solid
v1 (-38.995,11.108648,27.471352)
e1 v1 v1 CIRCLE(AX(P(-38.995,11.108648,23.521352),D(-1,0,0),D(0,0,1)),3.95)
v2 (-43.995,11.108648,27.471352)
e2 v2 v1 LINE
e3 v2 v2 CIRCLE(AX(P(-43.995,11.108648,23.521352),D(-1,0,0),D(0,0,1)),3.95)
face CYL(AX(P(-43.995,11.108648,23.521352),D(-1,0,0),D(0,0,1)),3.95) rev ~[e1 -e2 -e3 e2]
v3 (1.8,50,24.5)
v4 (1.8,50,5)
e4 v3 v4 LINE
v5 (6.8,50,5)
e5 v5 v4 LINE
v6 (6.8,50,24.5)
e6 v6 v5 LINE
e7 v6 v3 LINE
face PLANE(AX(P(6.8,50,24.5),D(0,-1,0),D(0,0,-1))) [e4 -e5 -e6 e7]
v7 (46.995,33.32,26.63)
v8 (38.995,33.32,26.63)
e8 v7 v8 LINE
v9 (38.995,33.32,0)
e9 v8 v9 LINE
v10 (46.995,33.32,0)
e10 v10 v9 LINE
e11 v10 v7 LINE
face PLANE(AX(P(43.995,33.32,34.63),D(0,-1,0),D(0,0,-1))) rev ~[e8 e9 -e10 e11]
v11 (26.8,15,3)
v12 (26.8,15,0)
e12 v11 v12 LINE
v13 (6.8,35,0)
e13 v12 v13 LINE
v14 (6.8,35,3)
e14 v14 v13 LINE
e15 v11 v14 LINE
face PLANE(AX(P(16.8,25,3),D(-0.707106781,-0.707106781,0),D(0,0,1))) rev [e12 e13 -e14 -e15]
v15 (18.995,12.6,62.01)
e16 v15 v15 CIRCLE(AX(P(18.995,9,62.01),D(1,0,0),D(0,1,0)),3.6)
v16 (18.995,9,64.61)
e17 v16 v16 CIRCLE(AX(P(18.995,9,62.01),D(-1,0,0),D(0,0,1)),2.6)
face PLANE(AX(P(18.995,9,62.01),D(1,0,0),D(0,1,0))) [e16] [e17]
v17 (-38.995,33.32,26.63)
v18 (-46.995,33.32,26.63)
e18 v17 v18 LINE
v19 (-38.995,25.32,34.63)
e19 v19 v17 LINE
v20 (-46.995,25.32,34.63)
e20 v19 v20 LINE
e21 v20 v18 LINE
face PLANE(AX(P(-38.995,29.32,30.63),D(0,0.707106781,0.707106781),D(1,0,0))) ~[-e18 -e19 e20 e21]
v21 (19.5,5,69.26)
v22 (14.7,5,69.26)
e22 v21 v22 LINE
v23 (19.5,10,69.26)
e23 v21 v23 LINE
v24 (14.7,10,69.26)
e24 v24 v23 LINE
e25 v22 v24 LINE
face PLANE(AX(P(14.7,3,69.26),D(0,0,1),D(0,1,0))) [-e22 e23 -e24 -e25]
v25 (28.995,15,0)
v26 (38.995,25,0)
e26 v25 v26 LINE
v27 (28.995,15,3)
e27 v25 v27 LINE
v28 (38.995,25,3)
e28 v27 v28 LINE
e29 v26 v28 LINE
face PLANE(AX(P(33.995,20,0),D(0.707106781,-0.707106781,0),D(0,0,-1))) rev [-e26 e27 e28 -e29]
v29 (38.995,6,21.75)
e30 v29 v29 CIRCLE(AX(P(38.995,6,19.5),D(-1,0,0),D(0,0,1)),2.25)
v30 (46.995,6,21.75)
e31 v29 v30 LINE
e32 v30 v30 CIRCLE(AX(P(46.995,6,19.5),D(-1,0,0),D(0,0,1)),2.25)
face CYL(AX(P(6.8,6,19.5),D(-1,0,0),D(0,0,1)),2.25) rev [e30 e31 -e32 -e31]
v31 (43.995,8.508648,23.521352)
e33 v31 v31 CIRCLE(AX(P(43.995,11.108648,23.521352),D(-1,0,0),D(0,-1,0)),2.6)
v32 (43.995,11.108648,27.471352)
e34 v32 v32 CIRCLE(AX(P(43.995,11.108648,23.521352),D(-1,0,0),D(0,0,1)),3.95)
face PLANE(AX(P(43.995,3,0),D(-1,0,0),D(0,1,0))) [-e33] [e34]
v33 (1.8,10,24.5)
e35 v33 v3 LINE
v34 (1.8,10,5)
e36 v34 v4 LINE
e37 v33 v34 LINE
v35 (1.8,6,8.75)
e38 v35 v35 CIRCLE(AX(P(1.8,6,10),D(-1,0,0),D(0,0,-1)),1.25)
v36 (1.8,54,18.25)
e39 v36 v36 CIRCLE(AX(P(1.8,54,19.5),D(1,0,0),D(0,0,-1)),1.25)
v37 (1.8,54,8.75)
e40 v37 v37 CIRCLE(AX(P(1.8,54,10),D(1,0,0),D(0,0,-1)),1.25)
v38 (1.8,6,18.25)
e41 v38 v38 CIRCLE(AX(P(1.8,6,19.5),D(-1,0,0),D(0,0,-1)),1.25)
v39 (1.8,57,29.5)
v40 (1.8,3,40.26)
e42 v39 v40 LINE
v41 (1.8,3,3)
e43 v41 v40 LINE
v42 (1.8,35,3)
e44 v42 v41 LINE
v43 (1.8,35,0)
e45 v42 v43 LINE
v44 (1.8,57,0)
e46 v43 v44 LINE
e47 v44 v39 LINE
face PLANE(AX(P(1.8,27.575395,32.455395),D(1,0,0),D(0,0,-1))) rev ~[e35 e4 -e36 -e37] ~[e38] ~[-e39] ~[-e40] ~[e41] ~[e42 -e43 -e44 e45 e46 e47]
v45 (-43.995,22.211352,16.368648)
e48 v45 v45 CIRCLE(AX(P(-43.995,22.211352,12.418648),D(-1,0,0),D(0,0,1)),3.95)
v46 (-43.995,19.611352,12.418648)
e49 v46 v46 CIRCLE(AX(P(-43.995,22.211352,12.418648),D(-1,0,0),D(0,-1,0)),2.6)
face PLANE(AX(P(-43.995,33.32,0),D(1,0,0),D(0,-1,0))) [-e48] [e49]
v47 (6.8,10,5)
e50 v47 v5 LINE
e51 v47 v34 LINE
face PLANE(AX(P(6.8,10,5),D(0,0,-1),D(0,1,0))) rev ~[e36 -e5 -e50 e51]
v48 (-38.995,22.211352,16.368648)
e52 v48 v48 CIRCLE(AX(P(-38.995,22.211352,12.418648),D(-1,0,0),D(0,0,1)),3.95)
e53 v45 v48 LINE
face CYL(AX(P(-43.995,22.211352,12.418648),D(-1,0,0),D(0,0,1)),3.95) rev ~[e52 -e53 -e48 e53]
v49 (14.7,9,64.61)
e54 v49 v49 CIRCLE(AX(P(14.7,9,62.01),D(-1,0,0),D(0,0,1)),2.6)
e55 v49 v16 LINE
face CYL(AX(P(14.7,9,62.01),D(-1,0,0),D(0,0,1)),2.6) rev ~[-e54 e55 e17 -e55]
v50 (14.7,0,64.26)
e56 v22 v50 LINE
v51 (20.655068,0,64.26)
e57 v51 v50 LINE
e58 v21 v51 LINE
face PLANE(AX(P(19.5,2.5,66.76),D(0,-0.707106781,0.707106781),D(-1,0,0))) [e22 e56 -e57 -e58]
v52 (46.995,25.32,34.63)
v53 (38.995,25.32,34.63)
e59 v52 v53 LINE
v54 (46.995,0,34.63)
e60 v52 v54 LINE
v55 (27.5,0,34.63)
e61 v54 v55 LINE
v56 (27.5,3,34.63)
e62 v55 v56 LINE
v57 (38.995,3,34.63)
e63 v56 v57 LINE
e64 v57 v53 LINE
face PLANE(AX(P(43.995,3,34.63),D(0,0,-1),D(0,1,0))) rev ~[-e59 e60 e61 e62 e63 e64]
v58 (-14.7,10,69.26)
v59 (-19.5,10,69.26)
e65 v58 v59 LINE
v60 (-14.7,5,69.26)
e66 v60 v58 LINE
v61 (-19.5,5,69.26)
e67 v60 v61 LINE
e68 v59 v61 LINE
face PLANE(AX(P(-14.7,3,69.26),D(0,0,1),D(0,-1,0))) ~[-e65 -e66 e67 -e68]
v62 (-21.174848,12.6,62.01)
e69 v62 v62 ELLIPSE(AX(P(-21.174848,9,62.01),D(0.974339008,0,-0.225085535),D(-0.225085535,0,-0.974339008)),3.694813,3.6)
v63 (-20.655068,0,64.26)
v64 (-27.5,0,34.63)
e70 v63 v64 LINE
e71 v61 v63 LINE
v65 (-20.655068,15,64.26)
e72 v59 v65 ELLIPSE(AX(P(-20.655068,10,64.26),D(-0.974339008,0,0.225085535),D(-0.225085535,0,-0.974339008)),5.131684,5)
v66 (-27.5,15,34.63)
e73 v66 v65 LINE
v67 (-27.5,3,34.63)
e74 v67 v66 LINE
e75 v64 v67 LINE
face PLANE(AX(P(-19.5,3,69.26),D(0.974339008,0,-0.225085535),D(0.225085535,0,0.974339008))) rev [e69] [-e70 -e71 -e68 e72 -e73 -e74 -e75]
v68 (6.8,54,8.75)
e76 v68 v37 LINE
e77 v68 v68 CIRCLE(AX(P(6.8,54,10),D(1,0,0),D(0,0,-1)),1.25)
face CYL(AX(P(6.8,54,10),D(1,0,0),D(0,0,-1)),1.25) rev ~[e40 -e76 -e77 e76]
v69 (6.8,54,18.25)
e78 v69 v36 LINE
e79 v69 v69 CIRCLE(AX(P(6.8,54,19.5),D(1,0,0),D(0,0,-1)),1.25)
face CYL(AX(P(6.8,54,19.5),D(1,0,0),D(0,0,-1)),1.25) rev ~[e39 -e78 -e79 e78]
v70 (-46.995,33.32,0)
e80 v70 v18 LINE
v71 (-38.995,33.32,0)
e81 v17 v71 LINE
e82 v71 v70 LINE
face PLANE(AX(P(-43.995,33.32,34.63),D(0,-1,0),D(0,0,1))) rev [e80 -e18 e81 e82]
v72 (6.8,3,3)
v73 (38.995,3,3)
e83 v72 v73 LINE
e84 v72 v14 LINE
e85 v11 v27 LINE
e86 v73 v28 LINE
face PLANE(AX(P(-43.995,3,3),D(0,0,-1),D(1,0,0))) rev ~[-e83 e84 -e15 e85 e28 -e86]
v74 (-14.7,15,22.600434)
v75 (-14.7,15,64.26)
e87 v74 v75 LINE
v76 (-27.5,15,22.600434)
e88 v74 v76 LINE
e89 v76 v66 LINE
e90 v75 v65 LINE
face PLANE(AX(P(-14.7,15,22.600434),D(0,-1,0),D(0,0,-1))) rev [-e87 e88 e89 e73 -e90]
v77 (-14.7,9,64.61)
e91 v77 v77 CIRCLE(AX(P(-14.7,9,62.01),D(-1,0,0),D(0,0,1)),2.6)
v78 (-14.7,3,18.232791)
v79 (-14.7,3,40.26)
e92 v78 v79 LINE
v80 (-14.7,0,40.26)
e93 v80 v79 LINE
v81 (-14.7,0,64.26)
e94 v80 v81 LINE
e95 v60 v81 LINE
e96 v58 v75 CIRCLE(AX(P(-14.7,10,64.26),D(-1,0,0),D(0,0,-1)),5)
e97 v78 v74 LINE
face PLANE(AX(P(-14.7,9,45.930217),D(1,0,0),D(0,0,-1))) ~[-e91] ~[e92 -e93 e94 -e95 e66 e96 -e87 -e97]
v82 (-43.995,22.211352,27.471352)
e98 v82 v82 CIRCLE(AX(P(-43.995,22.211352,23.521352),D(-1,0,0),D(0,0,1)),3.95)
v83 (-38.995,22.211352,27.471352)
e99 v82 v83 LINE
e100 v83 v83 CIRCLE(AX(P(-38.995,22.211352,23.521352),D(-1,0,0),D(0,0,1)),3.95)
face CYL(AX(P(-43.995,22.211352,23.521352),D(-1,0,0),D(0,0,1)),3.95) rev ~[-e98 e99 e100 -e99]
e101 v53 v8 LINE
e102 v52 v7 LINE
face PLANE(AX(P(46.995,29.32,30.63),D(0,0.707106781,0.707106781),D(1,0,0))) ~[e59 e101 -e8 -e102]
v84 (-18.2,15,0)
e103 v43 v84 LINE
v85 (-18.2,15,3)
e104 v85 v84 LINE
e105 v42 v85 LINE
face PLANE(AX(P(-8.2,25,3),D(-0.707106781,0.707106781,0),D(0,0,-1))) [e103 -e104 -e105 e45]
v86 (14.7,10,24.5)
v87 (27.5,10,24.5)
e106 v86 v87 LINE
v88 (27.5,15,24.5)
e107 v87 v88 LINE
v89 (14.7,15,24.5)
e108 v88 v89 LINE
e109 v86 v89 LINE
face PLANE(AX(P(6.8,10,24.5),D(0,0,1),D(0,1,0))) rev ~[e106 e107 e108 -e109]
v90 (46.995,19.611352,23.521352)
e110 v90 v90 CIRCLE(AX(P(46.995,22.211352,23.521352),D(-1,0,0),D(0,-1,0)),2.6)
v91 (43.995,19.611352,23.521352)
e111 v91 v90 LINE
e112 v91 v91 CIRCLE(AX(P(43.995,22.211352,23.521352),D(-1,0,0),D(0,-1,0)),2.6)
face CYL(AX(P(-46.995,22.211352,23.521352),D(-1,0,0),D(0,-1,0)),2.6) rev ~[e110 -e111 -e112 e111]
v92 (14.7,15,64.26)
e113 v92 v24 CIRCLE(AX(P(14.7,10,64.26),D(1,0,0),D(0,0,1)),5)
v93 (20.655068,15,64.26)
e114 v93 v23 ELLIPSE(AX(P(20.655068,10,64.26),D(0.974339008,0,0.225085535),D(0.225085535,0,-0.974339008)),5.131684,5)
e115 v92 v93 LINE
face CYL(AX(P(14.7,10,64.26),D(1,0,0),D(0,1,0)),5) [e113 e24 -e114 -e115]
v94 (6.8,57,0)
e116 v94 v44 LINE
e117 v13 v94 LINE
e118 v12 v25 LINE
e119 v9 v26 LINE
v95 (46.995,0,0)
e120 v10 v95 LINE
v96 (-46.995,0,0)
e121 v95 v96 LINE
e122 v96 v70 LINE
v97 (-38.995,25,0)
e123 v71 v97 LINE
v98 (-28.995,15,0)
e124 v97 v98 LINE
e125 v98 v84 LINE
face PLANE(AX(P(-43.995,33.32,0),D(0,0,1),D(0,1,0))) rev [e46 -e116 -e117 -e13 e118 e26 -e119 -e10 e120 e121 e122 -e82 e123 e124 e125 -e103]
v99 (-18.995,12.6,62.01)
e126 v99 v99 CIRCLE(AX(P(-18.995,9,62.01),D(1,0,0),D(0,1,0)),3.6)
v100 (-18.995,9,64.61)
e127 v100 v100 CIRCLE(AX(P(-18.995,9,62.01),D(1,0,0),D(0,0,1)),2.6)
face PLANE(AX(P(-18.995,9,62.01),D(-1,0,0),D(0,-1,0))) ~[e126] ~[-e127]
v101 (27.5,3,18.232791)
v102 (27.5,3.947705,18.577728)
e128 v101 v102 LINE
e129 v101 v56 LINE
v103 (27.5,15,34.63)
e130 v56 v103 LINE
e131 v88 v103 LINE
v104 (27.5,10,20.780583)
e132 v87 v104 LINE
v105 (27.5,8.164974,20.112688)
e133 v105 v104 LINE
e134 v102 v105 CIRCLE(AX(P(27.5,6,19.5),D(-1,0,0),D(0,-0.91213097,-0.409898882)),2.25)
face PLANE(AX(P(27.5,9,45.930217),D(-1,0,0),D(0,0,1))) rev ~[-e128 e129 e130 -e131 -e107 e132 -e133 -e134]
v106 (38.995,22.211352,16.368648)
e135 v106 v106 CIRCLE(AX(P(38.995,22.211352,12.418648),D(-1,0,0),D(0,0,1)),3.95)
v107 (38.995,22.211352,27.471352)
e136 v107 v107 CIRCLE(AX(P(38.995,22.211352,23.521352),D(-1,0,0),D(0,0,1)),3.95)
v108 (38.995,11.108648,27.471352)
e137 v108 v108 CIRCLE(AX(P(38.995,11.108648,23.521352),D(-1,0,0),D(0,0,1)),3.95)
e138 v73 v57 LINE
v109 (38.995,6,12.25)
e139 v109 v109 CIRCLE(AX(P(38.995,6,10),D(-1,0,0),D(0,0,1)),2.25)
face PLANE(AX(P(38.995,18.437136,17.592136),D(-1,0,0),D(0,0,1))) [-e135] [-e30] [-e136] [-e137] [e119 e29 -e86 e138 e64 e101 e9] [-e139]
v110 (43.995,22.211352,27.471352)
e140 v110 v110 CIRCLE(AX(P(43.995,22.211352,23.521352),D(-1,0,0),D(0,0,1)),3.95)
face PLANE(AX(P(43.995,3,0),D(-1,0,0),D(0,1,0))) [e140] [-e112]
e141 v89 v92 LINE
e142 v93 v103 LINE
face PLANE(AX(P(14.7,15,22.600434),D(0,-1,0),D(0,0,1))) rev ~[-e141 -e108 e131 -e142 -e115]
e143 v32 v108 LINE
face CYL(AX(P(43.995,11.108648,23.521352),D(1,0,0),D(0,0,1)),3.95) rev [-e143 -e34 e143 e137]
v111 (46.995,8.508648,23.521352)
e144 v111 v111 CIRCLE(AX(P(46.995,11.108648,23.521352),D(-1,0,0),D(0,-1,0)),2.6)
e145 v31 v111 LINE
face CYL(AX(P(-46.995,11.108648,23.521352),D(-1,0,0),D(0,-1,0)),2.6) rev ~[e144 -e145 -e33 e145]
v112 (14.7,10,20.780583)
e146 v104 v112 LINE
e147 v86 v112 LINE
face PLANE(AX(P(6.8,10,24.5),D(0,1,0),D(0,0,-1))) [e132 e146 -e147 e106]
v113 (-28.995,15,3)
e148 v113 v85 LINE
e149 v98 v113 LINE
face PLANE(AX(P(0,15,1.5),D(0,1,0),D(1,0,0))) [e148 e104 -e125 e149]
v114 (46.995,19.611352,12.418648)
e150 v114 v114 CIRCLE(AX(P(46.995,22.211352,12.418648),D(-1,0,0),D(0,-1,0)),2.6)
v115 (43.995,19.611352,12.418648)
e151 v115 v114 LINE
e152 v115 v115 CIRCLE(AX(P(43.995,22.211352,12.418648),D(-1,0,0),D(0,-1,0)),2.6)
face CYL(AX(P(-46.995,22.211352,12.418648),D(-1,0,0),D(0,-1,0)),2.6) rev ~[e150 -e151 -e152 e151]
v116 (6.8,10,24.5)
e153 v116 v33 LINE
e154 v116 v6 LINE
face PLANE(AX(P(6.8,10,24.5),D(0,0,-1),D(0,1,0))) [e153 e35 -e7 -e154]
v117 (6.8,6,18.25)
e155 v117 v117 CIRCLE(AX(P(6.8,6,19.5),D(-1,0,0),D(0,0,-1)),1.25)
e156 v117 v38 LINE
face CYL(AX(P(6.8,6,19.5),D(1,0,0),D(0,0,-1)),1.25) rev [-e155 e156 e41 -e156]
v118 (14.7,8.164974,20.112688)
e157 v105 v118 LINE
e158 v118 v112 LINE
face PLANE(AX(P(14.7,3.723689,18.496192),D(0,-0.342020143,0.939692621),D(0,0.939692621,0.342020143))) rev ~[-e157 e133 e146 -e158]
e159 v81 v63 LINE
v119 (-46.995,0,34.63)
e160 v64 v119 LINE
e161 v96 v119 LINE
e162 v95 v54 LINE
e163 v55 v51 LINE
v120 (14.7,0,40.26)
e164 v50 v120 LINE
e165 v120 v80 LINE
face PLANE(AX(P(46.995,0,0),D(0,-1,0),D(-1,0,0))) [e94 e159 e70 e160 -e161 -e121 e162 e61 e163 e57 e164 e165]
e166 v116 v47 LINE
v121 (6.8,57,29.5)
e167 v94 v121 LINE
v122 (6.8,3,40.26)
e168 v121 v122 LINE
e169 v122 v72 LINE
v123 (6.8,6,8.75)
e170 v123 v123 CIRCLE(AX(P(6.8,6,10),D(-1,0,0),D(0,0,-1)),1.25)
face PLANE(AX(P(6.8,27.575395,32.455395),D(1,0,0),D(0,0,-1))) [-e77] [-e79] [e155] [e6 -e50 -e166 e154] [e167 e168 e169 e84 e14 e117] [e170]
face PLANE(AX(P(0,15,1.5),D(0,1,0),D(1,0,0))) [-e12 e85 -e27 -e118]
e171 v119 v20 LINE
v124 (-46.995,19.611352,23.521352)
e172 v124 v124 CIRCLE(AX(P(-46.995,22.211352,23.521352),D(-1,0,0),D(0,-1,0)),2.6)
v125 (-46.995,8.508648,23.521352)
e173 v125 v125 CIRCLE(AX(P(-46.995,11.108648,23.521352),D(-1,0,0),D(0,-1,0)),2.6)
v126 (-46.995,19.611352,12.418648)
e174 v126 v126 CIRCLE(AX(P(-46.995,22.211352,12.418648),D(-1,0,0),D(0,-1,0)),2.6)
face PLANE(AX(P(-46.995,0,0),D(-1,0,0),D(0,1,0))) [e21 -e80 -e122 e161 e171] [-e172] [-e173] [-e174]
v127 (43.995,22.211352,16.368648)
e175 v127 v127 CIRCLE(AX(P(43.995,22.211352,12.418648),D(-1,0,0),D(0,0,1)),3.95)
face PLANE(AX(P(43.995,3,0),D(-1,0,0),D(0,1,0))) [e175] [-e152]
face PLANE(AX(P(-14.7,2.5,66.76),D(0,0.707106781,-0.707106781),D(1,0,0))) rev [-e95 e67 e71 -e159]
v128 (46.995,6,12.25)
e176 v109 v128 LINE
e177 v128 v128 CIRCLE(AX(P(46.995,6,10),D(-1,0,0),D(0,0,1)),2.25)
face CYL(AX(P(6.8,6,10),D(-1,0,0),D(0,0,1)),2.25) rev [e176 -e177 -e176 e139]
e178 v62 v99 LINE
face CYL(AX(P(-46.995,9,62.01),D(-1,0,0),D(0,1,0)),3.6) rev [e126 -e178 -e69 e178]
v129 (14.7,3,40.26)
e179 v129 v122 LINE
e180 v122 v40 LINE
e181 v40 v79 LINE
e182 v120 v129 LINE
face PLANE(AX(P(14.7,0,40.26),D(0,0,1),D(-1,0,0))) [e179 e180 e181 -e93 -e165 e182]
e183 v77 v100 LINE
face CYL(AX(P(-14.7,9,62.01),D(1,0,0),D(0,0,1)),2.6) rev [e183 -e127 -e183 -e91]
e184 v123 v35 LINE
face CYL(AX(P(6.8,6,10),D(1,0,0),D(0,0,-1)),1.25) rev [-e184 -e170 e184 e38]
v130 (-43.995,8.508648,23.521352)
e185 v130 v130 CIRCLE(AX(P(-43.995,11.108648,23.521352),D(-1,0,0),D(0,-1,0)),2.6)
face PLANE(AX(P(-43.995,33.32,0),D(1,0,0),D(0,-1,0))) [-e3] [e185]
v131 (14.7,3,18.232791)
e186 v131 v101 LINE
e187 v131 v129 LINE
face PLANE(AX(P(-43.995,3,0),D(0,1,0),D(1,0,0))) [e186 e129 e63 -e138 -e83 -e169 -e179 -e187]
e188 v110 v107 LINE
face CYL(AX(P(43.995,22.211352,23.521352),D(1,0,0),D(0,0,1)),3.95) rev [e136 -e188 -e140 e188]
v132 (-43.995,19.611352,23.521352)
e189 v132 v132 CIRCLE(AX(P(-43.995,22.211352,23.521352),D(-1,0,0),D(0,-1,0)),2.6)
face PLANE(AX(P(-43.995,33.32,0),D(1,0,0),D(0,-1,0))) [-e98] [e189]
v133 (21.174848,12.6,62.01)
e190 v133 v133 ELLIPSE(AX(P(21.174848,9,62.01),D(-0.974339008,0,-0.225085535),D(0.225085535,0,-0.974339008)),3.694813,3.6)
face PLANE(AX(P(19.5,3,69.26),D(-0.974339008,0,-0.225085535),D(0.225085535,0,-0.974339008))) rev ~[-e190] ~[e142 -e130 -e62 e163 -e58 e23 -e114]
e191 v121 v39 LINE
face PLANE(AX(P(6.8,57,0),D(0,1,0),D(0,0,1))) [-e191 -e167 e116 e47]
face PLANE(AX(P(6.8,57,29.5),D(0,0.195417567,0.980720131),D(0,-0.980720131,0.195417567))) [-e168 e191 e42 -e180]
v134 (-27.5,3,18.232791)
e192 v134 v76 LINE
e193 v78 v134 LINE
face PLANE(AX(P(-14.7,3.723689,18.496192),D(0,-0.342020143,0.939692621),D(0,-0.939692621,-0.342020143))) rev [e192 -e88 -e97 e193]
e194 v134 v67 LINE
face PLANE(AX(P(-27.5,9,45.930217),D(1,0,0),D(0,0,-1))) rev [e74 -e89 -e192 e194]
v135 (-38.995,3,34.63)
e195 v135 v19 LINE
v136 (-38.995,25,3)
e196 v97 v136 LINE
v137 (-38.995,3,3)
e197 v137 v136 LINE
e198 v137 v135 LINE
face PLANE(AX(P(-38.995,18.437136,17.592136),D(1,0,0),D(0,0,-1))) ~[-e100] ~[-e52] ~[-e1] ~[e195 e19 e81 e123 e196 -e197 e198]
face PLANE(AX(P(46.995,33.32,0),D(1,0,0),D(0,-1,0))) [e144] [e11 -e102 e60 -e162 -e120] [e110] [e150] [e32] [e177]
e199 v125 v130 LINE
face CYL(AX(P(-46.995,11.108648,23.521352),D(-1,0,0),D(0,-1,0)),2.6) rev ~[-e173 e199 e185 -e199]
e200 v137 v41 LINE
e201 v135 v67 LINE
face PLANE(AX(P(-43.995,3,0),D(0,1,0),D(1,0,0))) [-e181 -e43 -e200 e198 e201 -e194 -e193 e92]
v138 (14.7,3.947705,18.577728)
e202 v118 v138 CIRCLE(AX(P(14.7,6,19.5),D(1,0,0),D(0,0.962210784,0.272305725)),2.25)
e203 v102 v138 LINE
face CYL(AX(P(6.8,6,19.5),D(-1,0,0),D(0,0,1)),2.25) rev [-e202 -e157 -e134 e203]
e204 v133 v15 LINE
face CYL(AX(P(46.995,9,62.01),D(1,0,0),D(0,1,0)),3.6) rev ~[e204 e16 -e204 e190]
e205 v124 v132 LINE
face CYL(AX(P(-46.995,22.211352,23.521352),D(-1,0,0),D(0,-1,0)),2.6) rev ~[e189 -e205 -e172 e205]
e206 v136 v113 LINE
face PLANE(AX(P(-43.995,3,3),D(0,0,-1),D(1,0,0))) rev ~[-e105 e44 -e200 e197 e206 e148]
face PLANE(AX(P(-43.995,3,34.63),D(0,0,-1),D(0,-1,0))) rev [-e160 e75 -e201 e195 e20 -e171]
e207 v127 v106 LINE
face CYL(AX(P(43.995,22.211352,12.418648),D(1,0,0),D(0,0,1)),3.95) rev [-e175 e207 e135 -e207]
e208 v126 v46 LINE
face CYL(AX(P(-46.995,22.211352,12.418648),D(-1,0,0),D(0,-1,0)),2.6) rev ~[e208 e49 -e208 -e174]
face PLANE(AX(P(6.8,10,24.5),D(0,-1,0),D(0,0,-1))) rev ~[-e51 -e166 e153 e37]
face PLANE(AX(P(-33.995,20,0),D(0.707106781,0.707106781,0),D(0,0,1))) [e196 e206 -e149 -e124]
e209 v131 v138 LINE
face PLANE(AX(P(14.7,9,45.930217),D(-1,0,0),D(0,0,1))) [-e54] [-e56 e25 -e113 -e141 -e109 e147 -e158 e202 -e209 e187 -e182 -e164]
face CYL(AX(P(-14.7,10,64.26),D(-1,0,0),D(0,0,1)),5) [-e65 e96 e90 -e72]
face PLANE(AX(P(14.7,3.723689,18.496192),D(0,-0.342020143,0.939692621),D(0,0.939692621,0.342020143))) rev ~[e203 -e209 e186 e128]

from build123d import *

# Parameters (mm, degrees)
EXTRUDE_1_DEPTH             = 34.63
SKETCH_2_R                  = 2.6
CUT_EXTRUDE_1_DEPTH         = 106.56315361
EXTRUDE_2_DEPTH             = 3
SKETCH_4_W                  = 46.659566201
SKETCH_4_H                  = 12
SKETCH_4_R                  = 2.6
EXTRUDE_3_DEPTH             = 12.8
DRAFT_1_ANGLE               = 20
CUT_EXTRUDE_2_DEPTH         = 90.021233563
SKETCH_6_R                  = 3.6
CUT_EXTRUDE_3_DEPTH         = 28
FILLET_1_R                  = 5
CHAMFER_1_SIZE              = 5
DRAFT_1_OF_MIRROR_3_2_ANGLE = 20
CHAMFER_2_SIZE              = 5
FILLET_2_R                  = 5
SKETCH_7_W                  = 87.99
SKETCH_7_H                  = 3
EXTRUDE_4_DEPTH             = 12
SKETCH_8_R                  = 3.95
EXTRUDE_5_DEPTH             = 5
CHAMFER_3_SIZE              = 8
CHAMFER_4_SIZE              = 10
SKETCH_9_W                  = 19.5
SKETCH_9_H                  = 40
EXTRUDE_6_DEPTH             = 5
SKETCH_9_3_W                = 19.5
SKETCH_9_3_H                = 40
CUT_EXTRUDE_4_DEPTH         = 30
EXTRUDE_7_DEPTH             = 5
CHAMFER_5_SIZE              = 20
SKETCH_11_R                 = 1.25
CUT_EXTRUDE_5_DEPTH         = 5
SKETCH_12_R                 = 2.25
CUT_EXTRUDE_6_DEPTH         = 105.59373607


with BuildPart() as part:
    # Эскиз1 → Бобышка-Вытянуть1 (new body)
    with BuildSketch(Plane.XY):
        Polygon((-43.995, 3), (43.995, 3), (43.995, 33.32), (46.995, 33.32), (46.995, 0), (-46.995, 0), (-46.995, 33.32), (-43.995, 33.32), align=None)
    extrude(amount=EXTRUDE_1_DEPTH)

    # Эскиз2 → Вырез-Вытянуть1 (cut, through all)
    with BuildSketch(Plane.ZY.offset(46.995)):
        with Locations(Location((12.418647532, 22.211352468, 0), (0, 0, 270))):
            Circle(SKETCH_2_R)
        with Locations(Location((23.521352468, 22.211352468, 0), (0, 0, 270))):
            Circle(SKETCH_2_R)
        with Locations(Location((23.521352468, 11.108647532, 0), (0, 0, 270))):
            Circle(SKETCH_2_R)
    extrude(amount=-CUT_EXTRUDE_1_DEPTH, mode=Mode.SUBTRACT)

    # Эскиз3 → Бобышка-Вытянуть2 (add)
    with BuildSketch(Plane(origin=(0, 0, 0), x_dir=(1, 0, 0), z_dir=(0, 1, 0))):
        Polygon((-27.5, -34.63), (27.5, -34.63), (19.5, -69.26), (14.7, -69.26), (14.7, -40.26), (-14.7, -40.26), (-14.7, -69.26), (-19.5, -69.26), align=None)
    extrude(amount=EXTRUDE_2_DEPTH)

    # Эскиз4 → Бобышка-Вытянуть3 (add)
    with BuildSketch(Plane.ZY.offset(-14.7)):
        with Locations((45.9302169, 9)):
            Rectangle(SKETCH_4_W, SKETCH_4_H)
        with Locations((62.01, 9)):
            Circle(SKETCH_4_R, mode=Mode.SUBTRACT)
    extrude_3 = extrude(amount=-EXTRUDE_3_DEPTH)

    # Уклон1
    draft_1_faces = [part.faces().sort_by_distance(p)[0] for p in [
        (21.1, 9, 22.600433799),
    ]]
    draft(draft_1_faces, Plane(origin=(27.5, 15, 22.600433799), x_dir=(0, 0, 1), z_dir=(0, 1, 0)), DRAFT_1_ANGLE)

    # Эскиз5 → Вырез-Вытянуть2 (cut, through all)
    with BuildSketch(Plane.XZ.offset(-3)):
        Polygon((27.5, 34.63), (27.5, 69.26), (19.5, 69.26), align=None)
    cut_extrude_2 = extrude(amount=-CUT_EXTRUDE_2_DEPTH, mode=Mode.SUBTRACT)

    # Эскиз6 → Вырез-Вытянуть3 (cut)
    with BuildSketch(Plane(origin=(46.995, 0, 0), x_dir=(0, 0, -1), z_dir=(1, 0, 0))):
        with Locations(Location((-62.01, 9, 0), (0, 0, 90))):
            Circle(SKETCH_6_R)
    cut_extrude_3 = extrude(amount=-CUT_EXTRUDE_3_DEPTH, mode=Mode.SUBTRACT)

    # Скругление1
    fillet_1_edges = [part.edges().sort_by_distance(p)[0] for p in [
        (17.1, 15, 69.26),
    ]]
    fillet(fillet_1_edges, radius=FILLET_1_R)

    # Фаска1
    chamfer_1_edges = [part.edges().sort_by_distance(p)[0] for p in [
        (17.1, 0, 69.26),
    ]]
    chamfer(chamfer_1_edges, length=CHAMFER_1_SIZE)

    # Зеркальное отражение3: Бобышка-Вытянуть3, Вырез-Вытянуть2, Вырез-Вытянуть3 across plane
    add(extrude_3.mirror(Plane(origin=(0, 0, 0), x_dir=(0, 0, 1), z_dir=(1, 0, 0))))
    add(cut_extrude_2.mirror(Plane(origin=(0, 0, 0), x_dir=(0, 0, 1), z_dir=(1, 0, 0))), mode=Mode.SUBTRACT)
    add(cut_extrude_3.mirror(Plane(origin=(0, 0, 0), x_dir=(0, 0, 1), z_dir=(1, 0, 0))), mode=Mode.SUBTRACT)

    # Уклон1 of Mirror 3 2
    draft_1_of_mirror_3_2_faces = [part.faces().sort_by_distance(p)[0] for p in [
        (-21.1, 9, 22.600433799),
    ]]
    draft(draft_1_of_mirror_3_2_faces, Plane(origin=(-27.5, 15, 22.600433799), x_dir=(0, 0, 1), z_dir=(0, 1, 0)), DRAFT_1_OF_MIRROR_3_2_ANGLE)

    # Фаска2
    chamfer_2_edges = [part.edges().sort_by_distance(p)[0] for p in [
        (-17.1, 0, 69.26),
    ]]
    chamfer(chamfer_2_edges, length=CHAMFER_2_SIZE)

    # Скругление2
    fillet_2_edges = [part.edges().sort_by_distance(p)[0] for p in [
        (-17.1, 15, 69.26),
    ]]
    fillet(fillet_2_edges, radius=FILLET_2_R)

    # Эскиз7 → Бобышка-Вытянуть4 (add)
    with BuildSketch(Plane(origin=(0, 3, 0), x_dir=(1, 0, 0), z_dir=(0, 1, 0))):
        with Locations((0, -1.5)):
            Rectangle(SKETCH_7_W, SKETCH_7_H)
    extrude(amount=EXTRUDE_4_DEPTH)

    # Эскиз8 → Бобышка-Вытянуть5 (add)
    with BuildSketch(Plane.ZY.offset(-43.995)):
        Polygon((3, 3), (34.63, 3), (34.63, 33.32), (0, 33.32), (0, 15), (3, 15), align=None)
        with Locations((12.418647532, 22.211352468)):
            Circle(SKETCH_8_R, mode=Mode.SUBTRACT)
        with Locations((23.521352468, 22.211352468)):
            Circle(SKETCH_8_R, mode=Mode.SUBTRACT)
        with Locations((23.521352468, 11.108647532)):
            Circle(SKETCH_8_R, mode=Mode.SUBTRACT)
    extrude_5 = extrude(amount=EXTRUDE_5_DEPTH)

    # Зеркальное отражение4: Бобышка-Вытянуть5 across plane
    add(extrude_5.mirror(Plane(origin=(0, 0, 0), x_dir=(0, 0, 1), z_dir=(1, 0, 0))))

    # Фаска3
    chamfer_3_edges = [part.edges().sort_by_distance(p)[0] for p in [
        (42.995, 33.32, 34.63),
        (-42.995, 33.32, 34.63),
    ]]
    chamfer(chamfer_3_edges, length=CHAMFER_3_SIZE)

    # Фаска4
    chamfer_4_edges = [part.edges().sort_by_distance(p)[0] for p in [
        (38.995, 15, 1.5),
        (-38.995, 15, 1.5),
    ]]
    chamfer(chamfer_4_edges, length=CHAMFER_4_SIZE)

    # Эскиз9 → Бобышка-Вытянуть6 (add)
    with BuildSketch(Plane(origin=(6.8, 0, 0), x_dir=(0, 0, -1), z_dir=(1, 0, 0))):
        Polygon((-5, 3), (0, 3), (0, 10), (0, 50), (0, 57), (-5, 57), (-24.5, 57), (-29.5, 57), (-29.5, 50), (-29.5, 10), (-29.5, 3), (-24.5, 3), align=None)
        with Locations((-14.75, 30)):
            Rectangle(SKETCH_9_W, SKETCH_9_H, mode=Mode.SUBTRACT)
    extrude(amount=-EXTRUDE_6_DEPTH)

    # Эскиз9<3> → Вырез-Вытянуть4 (cut)
    with BuildSketch(Plane(origin=(6.8, 0, 0), x_dir=(0, 0, -1), z_dir=(1, 0, 0))):
        with Locations((-14.75, 30)):
            Rectangle(SKETCH_9_3_W, SKETCH_9_3_H)
    extrude(amount=CUT_EXTRUDE_4_DEPTH, mode=Mode.SUBTRACT)

    # Эскиз10 → Бобышка-Вытянуть7 (add)
    with BuildSketch(Plane(origin=(6.8, 0, 0), x_dir=(0, 0, -1), z_dir=(1, 0, 0))):
        Polygon((-29.5, 3), (-29.5, 57), (-40.26, 3), align=None)
    extrude(amount=-EXTRUDE_7_DEPTH)

    # Фаска5
    chamfer_5_edges = [part.edges().sort_by_distance(p)[0] for p in [
        (6.8, 15, 1.5),
        (1.8, 15, 1.5),
    ]]
    chamfer(chamfer_5_edges, length=CHAMFER_5_SIZE)

    # Эскиз11 → Вырез-Вытянуть5 (cut)
    with BuildSketch(Plane(origin=(6.8, 0, 0), x_dir=(0, 0, -1), z_dir=(1, 0, 0))):
        with Locations((-19.5, 54)):
            Circle(SKETCH_11_R)
        with Locations((-10, 54)):
            Circle(SKETCH_11_R)
    cut_extrude_5 = extrude(amount=-CUT_EXTRUDE_5_DEPTH, mode=Mode.SUBTRACT)

    # Зеркальное отражение5: Вырез-Вытянуть5 across plane
    add(cut_extrude_5.mirror(Plane.ZX.offset(30)), mode=Mode.SUBTRACT)

    # Эскиз12 → Вырез-Вытянуть6 (cut, through all)
    with BuildSketch(Plane(origin=(6.8, 0, 0), x_dir=(0, 0, -1), z_dir=(1, 0, 0))):
        with Locations(Location((-19.5, 6, 0), (0, 0, 180))):
            Circle(SKETCH_12_R)
        with Locations(Location((-10, 6, 0), (0, 0, 180))):
            Circle(SKETCH_12_R)
    extrude(amount=CUT_EXTRUDE_6_DEPTH, mode=Mode.SUBTRACT)


solid = part.part
